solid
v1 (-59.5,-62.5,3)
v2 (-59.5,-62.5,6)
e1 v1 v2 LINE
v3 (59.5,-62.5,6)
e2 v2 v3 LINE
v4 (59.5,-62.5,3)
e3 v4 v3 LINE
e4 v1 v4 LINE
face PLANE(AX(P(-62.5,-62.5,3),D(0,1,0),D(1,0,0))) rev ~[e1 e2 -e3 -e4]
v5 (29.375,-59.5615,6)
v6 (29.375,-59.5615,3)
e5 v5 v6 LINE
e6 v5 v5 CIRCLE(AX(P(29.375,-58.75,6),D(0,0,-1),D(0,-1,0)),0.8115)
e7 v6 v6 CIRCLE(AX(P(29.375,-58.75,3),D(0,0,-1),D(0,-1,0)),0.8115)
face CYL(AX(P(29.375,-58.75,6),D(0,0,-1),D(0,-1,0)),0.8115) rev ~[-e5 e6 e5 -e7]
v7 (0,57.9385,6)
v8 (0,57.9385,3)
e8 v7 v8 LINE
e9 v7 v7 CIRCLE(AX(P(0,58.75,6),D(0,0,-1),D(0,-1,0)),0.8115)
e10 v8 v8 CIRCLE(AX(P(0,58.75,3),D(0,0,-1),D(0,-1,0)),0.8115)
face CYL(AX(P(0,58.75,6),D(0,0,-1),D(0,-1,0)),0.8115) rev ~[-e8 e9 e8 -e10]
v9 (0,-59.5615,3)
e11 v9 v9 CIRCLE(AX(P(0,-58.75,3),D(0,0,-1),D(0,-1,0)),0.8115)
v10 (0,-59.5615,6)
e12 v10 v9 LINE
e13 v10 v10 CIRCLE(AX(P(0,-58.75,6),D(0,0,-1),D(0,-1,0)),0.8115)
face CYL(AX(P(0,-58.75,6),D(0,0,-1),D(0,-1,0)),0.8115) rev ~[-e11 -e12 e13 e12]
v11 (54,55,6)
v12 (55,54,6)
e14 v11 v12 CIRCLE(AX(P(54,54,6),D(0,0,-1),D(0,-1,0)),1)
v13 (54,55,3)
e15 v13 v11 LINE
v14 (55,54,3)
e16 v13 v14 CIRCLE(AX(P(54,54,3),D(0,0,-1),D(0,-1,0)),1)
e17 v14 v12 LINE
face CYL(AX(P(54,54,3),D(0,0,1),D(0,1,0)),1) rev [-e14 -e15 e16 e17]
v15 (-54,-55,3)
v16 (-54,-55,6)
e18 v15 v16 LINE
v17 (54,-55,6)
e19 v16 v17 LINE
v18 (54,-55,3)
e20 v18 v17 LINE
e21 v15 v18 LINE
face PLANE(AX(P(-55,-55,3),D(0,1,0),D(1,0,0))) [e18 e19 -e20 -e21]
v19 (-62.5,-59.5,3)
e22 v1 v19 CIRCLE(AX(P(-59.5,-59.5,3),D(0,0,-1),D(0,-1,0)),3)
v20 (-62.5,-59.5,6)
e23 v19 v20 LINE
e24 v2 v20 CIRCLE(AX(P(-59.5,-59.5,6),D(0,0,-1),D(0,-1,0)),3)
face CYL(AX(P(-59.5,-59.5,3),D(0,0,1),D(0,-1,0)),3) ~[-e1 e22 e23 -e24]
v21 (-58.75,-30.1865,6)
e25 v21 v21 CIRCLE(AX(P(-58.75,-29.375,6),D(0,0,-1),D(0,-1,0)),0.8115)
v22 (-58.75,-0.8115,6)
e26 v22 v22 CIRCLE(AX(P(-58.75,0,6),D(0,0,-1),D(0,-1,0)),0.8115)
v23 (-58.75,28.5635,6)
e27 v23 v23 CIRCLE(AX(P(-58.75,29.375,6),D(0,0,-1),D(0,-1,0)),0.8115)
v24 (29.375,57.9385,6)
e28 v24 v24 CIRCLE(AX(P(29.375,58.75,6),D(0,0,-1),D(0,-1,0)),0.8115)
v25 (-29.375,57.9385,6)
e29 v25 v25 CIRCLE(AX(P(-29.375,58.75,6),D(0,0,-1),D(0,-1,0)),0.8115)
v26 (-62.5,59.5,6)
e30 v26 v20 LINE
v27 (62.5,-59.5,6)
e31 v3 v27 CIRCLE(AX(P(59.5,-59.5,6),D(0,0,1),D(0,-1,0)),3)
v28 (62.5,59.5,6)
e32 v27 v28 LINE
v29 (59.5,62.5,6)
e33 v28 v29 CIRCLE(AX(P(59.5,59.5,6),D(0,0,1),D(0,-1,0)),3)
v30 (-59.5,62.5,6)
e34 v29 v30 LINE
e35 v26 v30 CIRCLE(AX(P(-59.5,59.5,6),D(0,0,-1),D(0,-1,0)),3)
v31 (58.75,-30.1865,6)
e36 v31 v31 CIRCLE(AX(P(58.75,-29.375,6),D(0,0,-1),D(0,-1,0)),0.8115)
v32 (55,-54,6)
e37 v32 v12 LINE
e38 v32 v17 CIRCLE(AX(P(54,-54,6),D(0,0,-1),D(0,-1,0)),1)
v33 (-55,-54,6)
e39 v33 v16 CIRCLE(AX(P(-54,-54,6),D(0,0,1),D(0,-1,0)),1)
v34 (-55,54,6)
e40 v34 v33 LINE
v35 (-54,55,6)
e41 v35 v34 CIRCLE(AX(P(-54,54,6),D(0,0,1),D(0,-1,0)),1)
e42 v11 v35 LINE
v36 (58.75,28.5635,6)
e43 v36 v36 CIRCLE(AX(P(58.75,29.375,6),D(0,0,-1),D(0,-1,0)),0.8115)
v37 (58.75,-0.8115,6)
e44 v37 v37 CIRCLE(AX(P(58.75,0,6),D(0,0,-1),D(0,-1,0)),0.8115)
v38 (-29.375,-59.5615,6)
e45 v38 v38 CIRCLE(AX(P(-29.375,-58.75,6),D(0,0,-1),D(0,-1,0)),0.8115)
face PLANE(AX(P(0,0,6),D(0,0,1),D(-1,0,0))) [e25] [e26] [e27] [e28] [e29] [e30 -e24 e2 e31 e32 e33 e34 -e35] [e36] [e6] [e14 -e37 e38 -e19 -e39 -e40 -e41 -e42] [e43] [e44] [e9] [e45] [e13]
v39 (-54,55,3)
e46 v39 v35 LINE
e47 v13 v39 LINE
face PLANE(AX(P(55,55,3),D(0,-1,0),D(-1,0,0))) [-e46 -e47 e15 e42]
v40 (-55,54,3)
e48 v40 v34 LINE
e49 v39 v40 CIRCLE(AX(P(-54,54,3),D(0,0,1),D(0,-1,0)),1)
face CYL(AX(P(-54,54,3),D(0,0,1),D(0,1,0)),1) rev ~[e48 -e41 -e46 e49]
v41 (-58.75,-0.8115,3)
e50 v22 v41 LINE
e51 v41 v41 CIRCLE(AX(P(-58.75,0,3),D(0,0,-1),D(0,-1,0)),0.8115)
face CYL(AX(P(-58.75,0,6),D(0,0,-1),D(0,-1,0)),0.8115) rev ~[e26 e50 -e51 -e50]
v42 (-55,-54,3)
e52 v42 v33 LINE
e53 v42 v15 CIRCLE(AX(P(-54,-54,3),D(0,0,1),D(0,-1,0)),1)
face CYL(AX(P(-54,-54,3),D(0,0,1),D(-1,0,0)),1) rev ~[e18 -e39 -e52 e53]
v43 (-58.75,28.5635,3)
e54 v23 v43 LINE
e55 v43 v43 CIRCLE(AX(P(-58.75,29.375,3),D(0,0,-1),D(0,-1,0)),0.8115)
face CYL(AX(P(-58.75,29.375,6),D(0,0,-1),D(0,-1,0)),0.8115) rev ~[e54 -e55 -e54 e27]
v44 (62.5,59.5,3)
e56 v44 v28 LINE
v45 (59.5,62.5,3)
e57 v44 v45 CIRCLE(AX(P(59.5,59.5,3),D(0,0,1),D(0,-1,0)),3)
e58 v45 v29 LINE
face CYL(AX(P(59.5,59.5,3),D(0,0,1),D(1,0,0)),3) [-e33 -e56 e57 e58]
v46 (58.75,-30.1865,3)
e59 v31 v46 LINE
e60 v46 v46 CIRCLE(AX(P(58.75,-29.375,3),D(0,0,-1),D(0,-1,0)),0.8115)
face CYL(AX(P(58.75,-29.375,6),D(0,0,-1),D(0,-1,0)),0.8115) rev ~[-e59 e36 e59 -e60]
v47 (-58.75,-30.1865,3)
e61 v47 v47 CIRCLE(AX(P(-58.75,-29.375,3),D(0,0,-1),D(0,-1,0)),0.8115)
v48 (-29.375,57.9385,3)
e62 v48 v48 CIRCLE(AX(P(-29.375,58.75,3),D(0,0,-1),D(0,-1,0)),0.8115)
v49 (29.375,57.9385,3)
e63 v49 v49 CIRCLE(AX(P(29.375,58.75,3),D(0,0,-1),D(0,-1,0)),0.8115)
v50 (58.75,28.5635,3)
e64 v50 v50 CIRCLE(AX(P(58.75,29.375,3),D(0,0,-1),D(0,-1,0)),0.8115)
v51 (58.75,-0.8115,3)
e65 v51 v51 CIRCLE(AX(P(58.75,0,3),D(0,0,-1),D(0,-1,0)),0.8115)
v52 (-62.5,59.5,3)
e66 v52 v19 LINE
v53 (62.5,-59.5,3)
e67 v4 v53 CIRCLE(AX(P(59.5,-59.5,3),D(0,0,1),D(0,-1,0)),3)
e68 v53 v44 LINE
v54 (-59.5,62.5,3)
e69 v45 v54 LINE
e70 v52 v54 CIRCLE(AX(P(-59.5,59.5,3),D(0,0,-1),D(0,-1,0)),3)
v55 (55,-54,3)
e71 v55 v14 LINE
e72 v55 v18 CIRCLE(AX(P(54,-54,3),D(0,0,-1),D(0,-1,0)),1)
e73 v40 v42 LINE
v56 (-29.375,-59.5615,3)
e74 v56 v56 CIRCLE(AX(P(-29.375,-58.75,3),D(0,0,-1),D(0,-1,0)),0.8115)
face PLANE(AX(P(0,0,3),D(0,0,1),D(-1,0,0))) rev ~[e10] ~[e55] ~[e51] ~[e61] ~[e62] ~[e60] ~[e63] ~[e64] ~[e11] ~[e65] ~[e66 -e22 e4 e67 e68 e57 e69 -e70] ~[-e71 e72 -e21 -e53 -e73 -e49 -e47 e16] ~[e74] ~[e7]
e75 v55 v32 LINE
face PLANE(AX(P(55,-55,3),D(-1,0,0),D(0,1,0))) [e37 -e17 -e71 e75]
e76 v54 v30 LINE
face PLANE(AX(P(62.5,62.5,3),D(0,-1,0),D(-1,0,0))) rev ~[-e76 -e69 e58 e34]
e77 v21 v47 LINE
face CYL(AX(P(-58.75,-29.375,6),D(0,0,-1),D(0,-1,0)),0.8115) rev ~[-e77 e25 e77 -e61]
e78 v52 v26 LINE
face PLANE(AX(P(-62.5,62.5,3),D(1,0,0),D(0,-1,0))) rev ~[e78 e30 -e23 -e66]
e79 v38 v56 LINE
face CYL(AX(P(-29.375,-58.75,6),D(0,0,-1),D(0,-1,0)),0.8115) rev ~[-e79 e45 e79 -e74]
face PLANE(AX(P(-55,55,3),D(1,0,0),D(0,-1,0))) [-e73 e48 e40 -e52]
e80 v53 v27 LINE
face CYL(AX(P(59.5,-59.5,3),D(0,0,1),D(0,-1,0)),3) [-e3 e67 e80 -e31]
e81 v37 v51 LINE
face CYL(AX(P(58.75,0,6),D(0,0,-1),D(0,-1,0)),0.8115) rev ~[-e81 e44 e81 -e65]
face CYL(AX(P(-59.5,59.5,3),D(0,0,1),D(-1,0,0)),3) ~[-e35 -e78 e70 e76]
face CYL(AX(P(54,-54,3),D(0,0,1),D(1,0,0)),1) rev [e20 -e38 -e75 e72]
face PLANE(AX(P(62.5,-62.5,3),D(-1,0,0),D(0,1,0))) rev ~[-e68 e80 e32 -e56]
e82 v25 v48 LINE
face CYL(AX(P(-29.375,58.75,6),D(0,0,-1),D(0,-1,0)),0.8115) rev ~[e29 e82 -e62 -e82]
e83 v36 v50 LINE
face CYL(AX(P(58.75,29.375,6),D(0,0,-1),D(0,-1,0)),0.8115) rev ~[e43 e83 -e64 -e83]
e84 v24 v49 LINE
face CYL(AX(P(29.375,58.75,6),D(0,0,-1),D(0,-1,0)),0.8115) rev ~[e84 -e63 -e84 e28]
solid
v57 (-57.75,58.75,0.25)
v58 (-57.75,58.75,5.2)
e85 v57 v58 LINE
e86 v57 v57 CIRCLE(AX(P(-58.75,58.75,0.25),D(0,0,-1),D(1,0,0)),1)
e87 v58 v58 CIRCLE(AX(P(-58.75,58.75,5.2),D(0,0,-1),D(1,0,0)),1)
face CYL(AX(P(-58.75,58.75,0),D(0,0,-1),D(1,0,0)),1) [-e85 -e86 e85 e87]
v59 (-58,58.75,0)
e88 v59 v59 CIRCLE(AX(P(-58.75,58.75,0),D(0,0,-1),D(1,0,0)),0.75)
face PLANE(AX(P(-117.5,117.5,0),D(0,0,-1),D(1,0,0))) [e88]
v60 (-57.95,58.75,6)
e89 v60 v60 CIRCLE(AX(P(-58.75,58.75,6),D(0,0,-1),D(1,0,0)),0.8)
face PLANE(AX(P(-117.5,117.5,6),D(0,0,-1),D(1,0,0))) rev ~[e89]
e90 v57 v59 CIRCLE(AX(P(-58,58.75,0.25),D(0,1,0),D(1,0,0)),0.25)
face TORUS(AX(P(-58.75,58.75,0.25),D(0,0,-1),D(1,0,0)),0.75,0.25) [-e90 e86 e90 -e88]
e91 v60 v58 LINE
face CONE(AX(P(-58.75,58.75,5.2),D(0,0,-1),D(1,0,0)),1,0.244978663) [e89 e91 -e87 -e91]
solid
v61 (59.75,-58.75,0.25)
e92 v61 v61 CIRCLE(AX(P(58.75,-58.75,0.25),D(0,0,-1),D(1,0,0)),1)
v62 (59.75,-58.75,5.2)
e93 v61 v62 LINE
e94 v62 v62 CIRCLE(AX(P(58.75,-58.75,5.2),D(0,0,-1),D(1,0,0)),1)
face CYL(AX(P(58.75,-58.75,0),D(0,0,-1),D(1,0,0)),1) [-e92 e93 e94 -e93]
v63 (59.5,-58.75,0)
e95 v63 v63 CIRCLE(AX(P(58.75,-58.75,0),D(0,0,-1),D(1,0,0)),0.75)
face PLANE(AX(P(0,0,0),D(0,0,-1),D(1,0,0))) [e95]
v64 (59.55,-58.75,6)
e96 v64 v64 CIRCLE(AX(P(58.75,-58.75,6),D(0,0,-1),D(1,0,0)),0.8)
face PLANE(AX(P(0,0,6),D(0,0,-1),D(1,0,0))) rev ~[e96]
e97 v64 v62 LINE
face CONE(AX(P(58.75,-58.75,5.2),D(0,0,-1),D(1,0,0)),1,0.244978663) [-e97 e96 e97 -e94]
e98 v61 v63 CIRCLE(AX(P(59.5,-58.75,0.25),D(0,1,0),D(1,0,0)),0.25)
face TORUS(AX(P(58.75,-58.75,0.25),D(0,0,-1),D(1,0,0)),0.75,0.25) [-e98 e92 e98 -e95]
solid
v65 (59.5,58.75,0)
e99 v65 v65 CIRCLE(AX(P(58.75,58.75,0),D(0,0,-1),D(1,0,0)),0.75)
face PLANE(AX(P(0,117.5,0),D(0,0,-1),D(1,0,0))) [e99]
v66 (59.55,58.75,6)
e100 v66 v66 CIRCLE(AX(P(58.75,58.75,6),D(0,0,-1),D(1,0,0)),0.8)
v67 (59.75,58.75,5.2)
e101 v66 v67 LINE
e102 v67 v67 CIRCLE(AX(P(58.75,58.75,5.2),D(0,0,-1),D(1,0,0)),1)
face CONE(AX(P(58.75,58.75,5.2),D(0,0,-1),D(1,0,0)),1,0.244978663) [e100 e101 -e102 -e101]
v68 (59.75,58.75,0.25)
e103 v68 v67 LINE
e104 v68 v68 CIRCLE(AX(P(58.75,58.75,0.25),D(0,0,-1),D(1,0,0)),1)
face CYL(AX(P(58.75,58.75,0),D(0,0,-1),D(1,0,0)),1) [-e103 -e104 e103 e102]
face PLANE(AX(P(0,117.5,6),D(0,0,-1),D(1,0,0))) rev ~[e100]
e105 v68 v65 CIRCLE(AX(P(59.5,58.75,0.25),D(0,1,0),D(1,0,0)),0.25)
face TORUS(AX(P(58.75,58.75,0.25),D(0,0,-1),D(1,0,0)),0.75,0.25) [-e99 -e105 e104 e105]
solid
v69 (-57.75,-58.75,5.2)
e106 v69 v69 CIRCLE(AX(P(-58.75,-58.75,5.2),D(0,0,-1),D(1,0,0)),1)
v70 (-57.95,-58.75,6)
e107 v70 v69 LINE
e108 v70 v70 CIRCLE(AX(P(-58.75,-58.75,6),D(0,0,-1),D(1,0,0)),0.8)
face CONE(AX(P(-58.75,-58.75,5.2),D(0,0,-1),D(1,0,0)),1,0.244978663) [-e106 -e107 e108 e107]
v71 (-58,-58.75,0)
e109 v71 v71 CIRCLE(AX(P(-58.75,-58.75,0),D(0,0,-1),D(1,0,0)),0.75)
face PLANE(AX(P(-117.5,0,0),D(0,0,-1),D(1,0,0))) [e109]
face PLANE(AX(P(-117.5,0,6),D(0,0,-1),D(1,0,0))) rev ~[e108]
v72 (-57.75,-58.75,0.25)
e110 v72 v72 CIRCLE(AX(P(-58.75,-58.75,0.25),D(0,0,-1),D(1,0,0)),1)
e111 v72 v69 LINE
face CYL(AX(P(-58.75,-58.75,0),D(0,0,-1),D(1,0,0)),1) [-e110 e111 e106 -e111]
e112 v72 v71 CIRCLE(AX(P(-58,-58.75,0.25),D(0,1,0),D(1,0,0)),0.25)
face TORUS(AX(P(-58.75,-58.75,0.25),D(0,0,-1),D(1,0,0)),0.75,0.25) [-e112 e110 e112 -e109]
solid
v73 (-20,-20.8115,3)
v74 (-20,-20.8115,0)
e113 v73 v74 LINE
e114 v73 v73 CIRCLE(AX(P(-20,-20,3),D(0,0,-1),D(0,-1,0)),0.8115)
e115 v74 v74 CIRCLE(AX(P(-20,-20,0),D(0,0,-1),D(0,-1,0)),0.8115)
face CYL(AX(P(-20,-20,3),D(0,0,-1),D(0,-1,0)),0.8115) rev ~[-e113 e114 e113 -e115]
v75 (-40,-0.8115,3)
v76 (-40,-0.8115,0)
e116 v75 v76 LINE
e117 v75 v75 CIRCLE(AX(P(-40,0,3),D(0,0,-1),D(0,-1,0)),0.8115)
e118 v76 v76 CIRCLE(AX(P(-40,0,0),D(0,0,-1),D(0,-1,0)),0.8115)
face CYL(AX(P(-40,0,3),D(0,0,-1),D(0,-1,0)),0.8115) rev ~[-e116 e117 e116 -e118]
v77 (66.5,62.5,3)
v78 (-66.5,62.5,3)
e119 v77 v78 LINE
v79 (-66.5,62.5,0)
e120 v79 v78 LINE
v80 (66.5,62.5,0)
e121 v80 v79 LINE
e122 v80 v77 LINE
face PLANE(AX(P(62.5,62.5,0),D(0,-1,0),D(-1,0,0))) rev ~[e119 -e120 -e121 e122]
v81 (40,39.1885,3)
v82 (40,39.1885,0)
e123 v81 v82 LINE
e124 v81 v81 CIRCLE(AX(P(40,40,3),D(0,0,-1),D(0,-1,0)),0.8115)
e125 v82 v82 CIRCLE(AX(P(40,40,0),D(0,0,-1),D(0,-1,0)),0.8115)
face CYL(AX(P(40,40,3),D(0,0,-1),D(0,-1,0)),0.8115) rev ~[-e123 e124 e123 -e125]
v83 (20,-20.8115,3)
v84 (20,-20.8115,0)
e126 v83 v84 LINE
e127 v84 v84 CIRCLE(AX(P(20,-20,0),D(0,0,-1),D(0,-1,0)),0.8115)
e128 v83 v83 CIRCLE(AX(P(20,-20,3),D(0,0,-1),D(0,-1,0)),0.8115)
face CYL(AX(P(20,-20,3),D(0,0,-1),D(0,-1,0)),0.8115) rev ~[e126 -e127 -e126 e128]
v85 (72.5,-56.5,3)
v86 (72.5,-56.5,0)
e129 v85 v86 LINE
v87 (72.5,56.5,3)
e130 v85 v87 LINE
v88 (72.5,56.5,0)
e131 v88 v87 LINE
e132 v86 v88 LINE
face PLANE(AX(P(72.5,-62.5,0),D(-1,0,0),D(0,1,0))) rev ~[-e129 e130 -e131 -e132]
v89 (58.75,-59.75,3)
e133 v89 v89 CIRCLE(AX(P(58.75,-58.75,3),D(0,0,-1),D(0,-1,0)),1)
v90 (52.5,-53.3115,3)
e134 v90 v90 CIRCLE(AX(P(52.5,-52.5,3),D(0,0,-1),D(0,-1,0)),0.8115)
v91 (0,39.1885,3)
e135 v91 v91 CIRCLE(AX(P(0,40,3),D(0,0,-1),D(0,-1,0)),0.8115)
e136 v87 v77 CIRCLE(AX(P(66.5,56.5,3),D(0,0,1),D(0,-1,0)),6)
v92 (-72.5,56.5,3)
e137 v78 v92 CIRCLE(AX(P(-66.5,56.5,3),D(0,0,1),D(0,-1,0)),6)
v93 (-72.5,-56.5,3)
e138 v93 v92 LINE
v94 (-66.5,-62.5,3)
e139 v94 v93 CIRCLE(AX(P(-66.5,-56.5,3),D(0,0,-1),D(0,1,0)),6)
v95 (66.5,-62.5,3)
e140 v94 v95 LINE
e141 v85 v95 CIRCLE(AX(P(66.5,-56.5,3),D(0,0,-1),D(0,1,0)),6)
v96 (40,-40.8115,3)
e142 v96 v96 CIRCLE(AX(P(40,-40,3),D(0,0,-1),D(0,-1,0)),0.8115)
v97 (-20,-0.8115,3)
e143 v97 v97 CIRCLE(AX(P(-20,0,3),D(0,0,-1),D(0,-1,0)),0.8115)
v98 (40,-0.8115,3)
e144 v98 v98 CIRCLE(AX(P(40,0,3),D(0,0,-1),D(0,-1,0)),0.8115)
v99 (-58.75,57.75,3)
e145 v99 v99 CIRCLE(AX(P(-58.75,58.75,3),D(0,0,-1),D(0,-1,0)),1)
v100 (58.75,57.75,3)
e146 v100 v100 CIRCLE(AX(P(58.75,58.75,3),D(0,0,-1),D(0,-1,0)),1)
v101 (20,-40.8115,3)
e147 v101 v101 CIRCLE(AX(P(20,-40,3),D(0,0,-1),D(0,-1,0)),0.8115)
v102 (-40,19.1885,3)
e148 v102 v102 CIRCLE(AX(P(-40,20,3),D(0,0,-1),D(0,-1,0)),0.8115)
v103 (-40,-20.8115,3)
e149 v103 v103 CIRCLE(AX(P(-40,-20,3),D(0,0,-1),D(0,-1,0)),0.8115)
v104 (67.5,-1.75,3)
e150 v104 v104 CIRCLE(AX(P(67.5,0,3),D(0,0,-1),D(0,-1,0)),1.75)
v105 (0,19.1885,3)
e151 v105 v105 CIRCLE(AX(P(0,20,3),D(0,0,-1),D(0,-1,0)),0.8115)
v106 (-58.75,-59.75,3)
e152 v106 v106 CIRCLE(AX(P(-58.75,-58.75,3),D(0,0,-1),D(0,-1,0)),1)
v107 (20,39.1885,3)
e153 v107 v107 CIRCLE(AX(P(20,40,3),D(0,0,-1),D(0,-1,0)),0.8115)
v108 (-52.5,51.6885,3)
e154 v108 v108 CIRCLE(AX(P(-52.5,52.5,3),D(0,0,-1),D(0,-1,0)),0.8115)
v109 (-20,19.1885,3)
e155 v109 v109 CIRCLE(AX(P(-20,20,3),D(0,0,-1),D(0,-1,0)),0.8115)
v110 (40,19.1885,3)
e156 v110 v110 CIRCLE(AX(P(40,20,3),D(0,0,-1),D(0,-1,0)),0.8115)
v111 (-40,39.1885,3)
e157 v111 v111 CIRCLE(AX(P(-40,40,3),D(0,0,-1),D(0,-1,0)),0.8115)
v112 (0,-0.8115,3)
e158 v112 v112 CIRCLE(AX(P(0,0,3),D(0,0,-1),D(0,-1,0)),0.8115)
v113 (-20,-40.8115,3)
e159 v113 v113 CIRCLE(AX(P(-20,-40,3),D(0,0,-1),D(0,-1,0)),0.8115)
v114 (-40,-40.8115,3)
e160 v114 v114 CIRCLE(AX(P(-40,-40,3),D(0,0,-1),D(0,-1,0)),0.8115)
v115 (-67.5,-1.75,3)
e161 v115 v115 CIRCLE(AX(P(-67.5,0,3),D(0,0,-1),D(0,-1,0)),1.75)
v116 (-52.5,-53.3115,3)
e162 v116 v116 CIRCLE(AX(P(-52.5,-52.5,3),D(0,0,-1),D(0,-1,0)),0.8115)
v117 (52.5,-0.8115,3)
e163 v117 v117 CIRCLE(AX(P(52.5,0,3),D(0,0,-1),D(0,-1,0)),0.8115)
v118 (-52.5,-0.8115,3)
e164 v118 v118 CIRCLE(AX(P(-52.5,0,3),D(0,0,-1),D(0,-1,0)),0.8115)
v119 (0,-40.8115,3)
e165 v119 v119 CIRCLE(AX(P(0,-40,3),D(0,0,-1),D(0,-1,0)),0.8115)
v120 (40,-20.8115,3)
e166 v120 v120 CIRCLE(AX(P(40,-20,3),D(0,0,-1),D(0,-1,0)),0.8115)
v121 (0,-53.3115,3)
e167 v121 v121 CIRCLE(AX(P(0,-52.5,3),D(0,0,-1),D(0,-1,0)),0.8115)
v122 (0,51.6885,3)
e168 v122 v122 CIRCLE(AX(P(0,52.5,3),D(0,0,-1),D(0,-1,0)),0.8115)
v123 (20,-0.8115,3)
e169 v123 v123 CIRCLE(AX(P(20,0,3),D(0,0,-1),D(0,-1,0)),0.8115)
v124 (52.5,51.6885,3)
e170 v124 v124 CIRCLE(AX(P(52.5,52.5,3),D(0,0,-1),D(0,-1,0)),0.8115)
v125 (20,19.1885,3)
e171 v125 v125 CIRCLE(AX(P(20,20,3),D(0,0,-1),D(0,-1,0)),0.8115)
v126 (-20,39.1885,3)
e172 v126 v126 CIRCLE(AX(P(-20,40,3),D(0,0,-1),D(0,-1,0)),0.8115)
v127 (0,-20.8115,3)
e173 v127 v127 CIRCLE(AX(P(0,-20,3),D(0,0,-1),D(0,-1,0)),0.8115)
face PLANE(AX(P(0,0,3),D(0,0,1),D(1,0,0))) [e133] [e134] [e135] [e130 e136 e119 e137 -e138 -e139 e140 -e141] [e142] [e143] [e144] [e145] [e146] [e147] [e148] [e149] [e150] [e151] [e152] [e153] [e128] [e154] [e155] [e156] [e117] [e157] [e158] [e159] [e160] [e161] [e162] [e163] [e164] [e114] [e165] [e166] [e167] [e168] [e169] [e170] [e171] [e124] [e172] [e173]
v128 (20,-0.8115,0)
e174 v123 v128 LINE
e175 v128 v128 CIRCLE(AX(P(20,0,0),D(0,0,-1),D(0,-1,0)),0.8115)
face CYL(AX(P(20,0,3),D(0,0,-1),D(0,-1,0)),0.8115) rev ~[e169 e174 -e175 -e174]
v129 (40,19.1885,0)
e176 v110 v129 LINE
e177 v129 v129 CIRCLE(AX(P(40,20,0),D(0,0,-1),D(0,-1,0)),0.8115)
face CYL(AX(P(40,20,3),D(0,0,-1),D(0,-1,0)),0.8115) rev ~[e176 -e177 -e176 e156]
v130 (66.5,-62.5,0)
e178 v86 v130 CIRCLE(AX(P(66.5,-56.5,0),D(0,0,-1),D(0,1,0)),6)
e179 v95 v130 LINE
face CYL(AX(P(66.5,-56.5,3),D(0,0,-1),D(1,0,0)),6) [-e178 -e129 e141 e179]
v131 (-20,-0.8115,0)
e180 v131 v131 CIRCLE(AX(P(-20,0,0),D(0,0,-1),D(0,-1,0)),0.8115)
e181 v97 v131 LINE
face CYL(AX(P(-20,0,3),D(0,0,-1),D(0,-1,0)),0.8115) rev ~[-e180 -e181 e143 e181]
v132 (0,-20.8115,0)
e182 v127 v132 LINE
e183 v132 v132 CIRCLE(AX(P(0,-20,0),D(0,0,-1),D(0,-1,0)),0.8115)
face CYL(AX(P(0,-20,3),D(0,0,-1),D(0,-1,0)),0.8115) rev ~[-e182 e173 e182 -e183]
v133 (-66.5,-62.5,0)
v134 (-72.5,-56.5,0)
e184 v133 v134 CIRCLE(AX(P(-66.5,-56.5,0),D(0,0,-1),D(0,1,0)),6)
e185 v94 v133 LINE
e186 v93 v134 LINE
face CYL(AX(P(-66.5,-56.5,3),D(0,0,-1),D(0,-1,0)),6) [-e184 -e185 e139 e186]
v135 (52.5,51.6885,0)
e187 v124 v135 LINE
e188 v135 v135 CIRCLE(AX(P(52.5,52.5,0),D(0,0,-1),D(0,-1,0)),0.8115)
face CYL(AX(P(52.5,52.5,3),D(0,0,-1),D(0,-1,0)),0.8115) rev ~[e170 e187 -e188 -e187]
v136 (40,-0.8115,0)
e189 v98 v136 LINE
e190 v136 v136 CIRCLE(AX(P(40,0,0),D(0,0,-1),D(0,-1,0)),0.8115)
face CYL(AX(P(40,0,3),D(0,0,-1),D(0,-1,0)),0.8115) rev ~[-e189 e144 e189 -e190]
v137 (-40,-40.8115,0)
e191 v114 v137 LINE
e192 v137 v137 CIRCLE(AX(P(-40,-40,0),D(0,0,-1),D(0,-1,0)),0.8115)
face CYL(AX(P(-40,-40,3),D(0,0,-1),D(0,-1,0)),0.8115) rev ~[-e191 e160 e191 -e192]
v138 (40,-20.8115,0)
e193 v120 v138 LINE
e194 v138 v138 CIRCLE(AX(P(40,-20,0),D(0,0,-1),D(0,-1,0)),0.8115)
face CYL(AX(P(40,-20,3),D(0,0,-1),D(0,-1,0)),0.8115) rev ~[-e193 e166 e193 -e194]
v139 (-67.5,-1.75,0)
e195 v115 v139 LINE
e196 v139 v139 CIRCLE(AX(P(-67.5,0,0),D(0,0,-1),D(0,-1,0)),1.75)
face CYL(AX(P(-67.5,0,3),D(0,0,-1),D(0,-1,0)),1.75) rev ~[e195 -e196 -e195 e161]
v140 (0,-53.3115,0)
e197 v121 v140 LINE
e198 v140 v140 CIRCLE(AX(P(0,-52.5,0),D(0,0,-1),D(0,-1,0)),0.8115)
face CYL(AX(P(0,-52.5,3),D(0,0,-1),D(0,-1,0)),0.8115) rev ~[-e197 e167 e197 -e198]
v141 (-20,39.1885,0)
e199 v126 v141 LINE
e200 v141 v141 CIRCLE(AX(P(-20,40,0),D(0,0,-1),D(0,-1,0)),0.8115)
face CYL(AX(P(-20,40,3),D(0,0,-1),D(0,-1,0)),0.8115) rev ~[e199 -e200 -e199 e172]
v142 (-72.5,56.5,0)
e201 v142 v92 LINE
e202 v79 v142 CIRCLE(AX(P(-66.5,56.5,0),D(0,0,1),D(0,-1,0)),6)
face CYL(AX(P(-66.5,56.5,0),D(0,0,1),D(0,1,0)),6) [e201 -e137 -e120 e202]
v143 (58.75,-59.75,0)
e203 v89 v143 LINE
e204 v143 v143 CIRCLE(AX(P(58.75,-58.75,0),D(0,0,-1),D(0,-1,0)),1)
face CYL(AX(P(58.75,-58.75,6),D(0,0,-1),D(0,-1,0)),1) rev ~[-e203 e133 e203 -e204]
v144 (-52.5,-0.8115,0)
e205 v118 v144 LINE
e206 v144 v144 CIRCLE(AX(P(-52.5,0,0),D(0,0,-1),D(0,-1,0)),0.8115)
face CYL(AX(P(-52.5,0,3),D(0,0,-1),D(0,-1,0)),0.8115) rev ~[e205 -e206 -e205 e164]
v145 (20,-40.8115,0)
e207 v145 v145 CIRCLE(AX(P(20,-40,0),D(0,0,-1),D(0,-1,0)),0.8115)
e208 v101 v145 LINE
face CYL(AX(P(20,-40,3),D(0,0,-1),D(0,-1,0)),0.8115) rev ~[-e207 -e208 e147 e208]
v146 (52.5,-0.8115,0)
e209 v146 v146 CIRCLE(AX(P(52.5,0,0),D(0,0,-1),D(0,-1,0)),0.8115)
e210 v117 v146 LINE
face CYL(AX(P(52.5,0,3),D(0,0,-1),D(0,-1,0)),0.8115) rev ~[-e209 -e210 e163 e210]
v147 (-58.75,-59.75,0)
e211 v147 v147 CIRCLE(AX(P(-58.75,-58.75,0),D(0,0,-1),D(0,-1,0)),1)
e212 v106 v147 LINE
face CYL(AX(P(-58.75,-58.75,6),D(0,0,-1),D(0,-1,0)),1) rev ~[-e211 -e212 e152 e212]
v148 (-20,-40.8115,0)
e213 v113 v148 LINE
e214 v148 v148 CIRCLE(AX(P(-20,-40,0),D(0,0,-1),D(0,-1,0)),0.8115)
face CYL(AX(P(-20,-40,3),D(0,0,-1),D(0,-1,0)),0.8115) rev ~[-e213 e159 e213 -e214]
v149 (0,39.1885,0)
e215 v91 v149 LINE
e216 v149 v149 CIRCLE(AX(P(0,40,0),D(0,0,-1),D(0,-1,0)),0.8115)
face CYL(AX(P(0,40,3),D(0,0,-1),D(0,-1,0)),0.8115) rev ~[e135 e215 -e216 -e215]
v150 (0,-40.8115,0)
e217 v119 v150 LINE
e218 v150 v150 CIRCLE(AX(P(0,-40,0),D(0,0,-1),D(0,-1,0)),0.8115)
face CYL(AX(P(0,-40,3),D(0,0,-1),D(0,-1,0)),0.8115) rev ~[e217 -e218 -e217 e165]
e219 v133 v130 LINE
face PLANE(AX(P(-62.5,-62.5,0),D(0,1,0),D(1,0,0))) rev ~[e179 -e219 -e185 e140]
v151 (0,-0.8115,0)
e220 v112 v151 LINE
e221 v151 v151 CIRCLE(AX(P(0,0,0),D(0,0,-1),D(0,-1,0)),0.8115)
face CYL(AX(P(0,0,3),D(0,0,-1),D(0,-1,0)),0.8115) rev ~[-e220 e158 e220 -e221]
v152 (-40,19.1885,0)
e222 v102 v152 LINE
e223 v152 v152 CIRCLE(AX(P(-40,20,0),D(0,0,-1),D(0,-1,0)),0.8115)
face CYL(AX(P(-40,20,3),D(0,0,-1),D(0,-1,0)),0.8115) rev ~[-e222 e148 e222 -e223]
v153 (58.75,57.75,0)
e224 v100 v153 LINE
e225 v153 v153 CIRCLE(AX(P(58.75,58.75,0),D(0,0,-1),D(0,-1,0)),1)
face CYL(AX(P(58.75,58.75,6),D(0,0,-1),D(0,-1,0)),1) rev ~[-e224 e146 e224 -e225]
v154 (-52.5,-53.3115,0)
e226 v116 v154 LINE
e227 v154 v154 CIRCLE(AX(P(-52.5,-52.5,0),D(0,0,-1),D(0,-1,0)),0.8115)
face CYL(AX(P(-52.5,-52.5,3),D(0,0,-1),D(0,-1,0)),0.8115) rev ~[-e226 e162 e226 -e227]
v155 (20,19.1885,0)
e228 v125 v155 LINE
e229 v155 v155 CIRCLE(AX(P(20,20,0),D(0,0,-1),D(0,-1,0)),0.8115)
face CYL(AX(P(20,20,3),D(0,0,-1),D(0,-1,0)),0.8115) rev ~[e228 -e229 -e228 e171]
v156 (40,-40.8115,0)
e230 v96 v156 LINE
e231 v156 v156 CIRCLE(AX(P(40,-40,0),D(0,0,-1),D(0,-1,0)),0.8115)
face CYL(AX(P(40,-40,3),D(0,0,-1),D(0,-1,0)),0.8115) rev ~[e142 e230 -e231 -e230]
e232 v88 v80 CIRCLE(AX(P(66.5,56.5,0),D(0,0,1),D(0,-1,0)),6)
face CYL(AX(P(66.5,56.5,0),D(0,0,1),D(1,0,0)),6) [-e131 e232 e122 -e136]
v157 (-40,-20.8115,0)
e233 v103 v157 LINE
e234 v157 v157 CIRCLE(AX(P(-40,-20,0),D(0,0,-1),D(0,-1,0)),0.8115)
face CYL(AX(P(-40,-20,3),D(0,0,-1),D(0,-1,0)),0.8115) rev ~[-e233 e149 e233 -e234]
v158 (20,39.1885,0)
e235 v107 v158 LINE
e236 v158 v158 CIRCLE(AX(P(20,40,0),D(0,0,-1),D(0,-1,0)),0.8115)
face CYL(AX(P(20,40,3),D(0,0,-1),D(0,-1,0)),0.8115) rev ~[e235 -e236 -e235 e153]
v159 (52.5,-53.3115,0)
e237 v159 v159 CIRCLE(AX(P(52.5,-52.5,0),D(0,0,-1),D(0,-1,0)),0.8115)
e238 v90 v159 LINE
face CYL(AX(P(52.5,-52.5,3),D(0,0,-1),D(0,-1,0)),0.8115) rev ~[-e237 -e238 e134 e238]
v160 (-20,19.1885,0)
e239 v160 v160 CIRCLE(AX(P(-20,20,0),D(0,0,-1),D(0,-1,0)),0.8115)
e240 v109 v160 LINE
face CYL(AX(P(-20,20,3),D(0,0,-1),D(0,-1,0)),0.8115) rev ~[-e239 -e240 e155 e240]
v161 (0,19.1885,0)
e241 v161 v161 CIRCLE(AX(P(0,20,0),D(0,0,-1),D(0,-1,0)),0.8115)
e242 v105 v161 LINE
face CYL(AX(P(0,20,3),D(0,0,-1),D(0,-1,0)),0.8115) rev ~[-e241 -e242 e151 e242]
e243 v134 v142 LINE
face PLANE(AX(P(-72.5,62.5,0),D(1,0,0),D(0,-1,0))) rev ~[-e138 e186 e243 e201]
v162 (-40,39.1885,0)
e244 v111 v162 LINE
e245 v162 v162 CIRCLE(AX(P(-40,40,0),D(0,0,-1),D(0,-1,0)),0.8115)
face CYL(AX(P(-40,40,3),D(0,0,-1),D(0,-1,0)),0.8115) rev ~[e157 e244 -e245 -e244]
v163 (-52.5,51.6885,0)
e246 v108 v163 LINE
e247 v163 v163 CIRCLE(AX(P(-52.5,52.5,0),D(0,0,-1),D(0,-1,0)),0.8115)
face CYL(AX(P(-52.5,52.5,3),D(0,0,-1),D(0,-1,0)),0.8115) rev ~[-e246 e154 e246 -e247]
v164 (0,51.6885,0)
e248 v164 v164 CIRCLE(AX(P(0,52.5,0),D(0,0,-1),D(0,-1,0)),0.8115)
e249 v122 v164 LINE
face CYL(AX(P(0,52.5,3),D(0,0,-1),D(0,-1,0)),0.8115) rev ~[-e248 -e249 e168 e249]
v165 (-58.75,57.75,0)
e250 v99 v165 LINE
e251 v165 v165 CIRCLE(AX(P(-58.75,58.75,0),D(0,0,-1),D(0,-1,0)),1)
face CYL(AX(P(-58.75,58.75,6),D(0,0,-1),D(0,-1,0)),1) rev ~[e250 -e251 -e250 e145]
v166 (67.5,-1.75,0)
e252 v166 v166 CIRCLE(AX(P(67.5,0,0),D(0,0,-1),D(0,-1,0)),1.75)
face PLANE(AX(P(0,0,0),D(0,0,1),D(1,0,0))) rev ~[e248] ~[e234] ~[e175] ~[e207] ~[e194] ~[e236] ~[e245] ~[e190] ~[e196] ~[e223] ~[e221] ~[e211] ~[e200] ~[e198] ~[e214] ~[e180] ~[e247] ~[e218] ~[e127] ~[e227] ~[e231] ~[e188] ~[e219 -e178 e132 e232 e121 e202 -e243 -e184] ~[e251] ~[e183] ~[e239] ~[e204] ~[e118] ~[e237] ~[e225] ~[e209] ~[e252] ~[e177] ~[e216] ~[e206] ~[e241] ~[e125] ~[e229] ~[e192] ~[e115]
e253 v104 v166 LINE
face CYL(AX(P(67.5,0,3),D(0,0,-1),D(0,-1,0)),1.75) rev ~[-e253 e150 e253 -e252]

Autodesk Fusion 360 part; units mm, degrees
sketch "Sketch1" plane through (0, 0, 0) normal (0, 0, 1) x (1, 0, 0) in component "base"
  line L0 (62.5, 62.5) -> (-62.5, 62.5)
  line L1 (-62.5, 62.5) -> (-62.5, -62.5)
  line L2 (-62.5, -62.5) -> (62.5, -62.5)
  line L3 (62.5, -62.5) -> (62.5, 62.5)
  line L4 (62.5, 62.5) -> (-62.5, -62.5) construction
  line L5 (-62.5, 62.5) -> (62.5, -62.5) construction
  dimension "d3" = 125
  dimension "d4" = 125
extrude "Extrude1" add sketch "Sketch1" along normal blind 3 makes body 1 in component "base"
sketch "Sketch1 (2)" plane through (0, 0, 3) normal (0, 0, 1) x (-1, 0, 0) in component "stencilFrame"
  line L0 (-62.5, 62.5) -> (-62.5, -62.5)
  line L1 (-62.5, -62.5) -> (62.5, -62.5)
  line L2 (62.5, -62.5) -> (62.5, 62.5)
  line L3 (62.5, 62.5) -> (-62.5, 62.5)
  line L4 (-55, -55) -> (55, -55)
  line L5 (55, -55) -> (55, 55)
  line L6 (55, 55) -> (-55, 55)
  line L7 (-55, 55) -> (-55, -55)
  line L8 (-55, -55) -> (55, 55) construction
  line L9 (55, -55) -> (-55, 55) construction
  dimension "d7" = 110
  dimension "d8" = 110
extrude "Extrude1'" add sketch "Sketch1 (2)" along normal blind 3 separate body makes body 2 in component "stencilFrame"
sketch "Sketch2" plane through (0, 0, 3) normal (0, 0, 1) x (-1, 0, 0) in component "base"
  line L0 (-62.5, 62.5) -> (-62.5, -62.5)
  line L1 (-62.5, -62.5) -> (62.5, -62.5)
  line L2 (62.5, -62.5) -> (62.5, 62.5)
  line L3 (62.5, 62.5) -> (-62.5, 62.5)
hole "Hole1" at (0, 0, 3) direction (0, 0, -1) diameter 1.623 depth 40 tip angle 118 bodies 1 in component "base"
pattern_linear "R-Pattern1" count 5 spacing 20 along (1, 0, 0) both ways count 5 spacing 20 along (0, 1, 0) both ways of "Hole1" in component "base"
sketch "Sketch4" plane through (0, 0, 3) normal (0, 0, 1) x (-1, 0, 0) in component "base"
  circle A0 centre (-20, -20) radius 0.8115
  circle A1 centre (0, -20) radius 0.8115
  circle A2 centre (20, -20) radius 0.8115
  circle A3 centre (-20, 0) radius 0.8115
  circle A4 centre (20, 0) radius 0.8115
  circle A5 centre (-20, 20) radius 0.8115
  circle A6 centre (0, 20) radius 0.8115
  circle A7 centre (20, 20) radius 0.8115
  circle A8 centre (0, 0) radius 0.8115
  line L0 (-62.5, 62.5) -> (-62.5, -62.5)
  line L1 (-62.5, -62.5) -> (62.5, -62.5)
  line L2 (62.5, -62.5) -> (62.5, 62.5)
  line L3 (62.5, 62.5) -> (-62.5, 62.5)
  line L4 (-52.5, -52.5) -> (52.5, -52.5) construction
  line L5 (52.5, -52.5) -> (52.5, 52.5) construction
  line L6 (52.5, 52.5) -> (-52.5, 52.5) construction
  line L7 (-52.5, 52.5) -> (-52.5, -52.5) construction
  line L8 (-52.5, -52.5) -> (52.5, 52.5) construction
  line L9 (52.5, -52.5) -> (-52.5, 52.5) construction
  line L10 (55, -55) -> (-55, -55) construction
  line L11 (-55, -55) -> (-55, 55) construction
  circle A9 centre (-40, -20) radius 0.8115
  circle A10 centre (40, -20) radius 0.8115
  circle A11 centre (-40, 0) radius 0.8115
  circle A12 centre (40, 0) radius 0.8115
  circle A13 centre (-40, 20) radius 0.8115
  circle A14 centre (40, 20) radius 0.8115
  circle A15 centre (-40, -40) radius 0.8115
  circle A16 centre (-20, -40) radius 0.8115
  circle A17 centre (0, -40) radius 0.8115
  circle A18 centre (20, -40) radius 0.8115
  circle A19 centre (40, -40) radius 0.8115
  circle A20 centre (-40, 40) radius 0.8115
  circle A21 centre (-20, 40) radius 0.8115
  circle A22 centre (0, 40) radius 0.8115
  circle A23 centre (20, 40) radius 0.8115
  circle A24 centre (40, 40) radius 0.8115
  point P0 (0, -52.5)
  point P1 (-52.5, 0)
  point P2 (0, 52.5)
  point P3 (52.5, 0)
  dimension "d28" = 2.5
  dimension "d29" = 2.5
hole "Hole3" at (-52.5, 52.5, 3) at (52.5, 52.5, 3) at (52.5, -52.5, 3) at (-52.5, -52.5, 3) at (0, 52.5, 3) at (52.5, 0, 3) at (0, -52.5, 3) at (-52.5, 0, 3) direction (0, 0, -1) diameter 1.623 depth 40 tip angle 118 bodies 1 in component "base"
sketch "Sketch2 (2)" plane through (0, 0, 6) normal (0, 0, 1) x (-1, 0, 0) in component "stencilFrame"
  line L0 (-55, -55) -> (-55, 55)
  line L1 (-55, 55) -> (55, 55)
  line L2 (55, 55) -> (55, -55)
  line L3 (55, -55) -> (-55, -55)
  line L4 (62.5, 62.5) -> (-62.5, 62.5)
  line L5 (-62.5, 62.5) -> (-62.5, -62.5)
  line L6 (-62.5, -62.5) -> (62.5, -62.5)
  line L7 (62.5, -62.5) -> (62.5, 62.5)
  line L8 (-58.75, -58.75) -> (58.75, -58.75)
  line L9 (58.75, -58.75) -> (58.75, 58.75)
  line L10 (58.75, 58.75) -> (-58.75, 58.75)
  line L11 (-58.75, 58.75) -> (-58.75, -58.75)
  line L12 (-58.75, -58.75) -> (58.75, 58.75) construction
  line L13 (58.75, -58.75) -> (-58.75, 58.75) construction
  line L14 (0, -62.5) -> (0, -55) construction
  line L15 (55, 0) -> (62.5, 0) construction
  line L16 (29.375, -58.75) -> (29.375, 58.75) construction
  line L17 (-29.375, -58.75) -> (-29.375, 58.75) construction
  line L18 (58.75, -29.375) -> (-58.75, -29.375) construction
  line L19 (58.75, 29.375) -> (-58.75, 29.375) construction
  point P0 (58.75, 0)
  point P1 (-58.75, 0)
  point P2 (0, -58.75)
  point P3 (0, 58.75)
  dimension "d33" = 29.375
  dimension "d34" = 29.375
  dimension "d35" = 29.375
  dimension "d36" = 29.375
hole "Hole1'" at (-29.375, 58.75, 6) at (0, 58.75, 6) at (29.375, 58.75, 6) at (58.75, 29.375, 6) at (58.75, 0, 6) at (58.75, -29.375, 6) at (29.375, -58.75, 6) at (0, -58.75, 6) at (-29.375, -58.75, 6) at (-58.75, -29.375, 6) at (-58.75, 0, 6) at (-58.75, 29.375, 6) direction (0, 0, -1) diameter 1.623 depth 40 tip angle 118 bodies 2 in component "stencilFrame"
hole "Hole4" at (-58.75, 58.75, 6) at (58.75, 58.75, 6) at (58.75, -58.75, 6) at (-58.75, -58.75, 6) direction (0, 0, -1) diameter 2 depth 40 tip angle 180 bodies 1 in component "base"
sketch "Sketch1 (3)" plane through (0, 0, 0) normal (0, 0, -1) x (1, 0, 0) in component "aligmentPin"
  circle A0 centre (58.75, 58.75) radius 1
  circle A1 centre (-58.75, -58.75) radius 1
  circle A2 centre (58.75, -58.75) radius 1
  circle A3 centre (-58.75, 58.75) radius 1
  circle A4 centre (0, 52.5) radius 0.8115
  circle A5 centre (0, -52.5) radius 0.8115
  circle A6 centre (52.5, 52.5) radius 0.8115
  circle A7 centre (-52.5, -52.5) radius 0.8115
  circle A8 centre (52.5, -52.5) radius 0.8115
  circle A9 centre (-52.5, 52.5) radius 0.8115
  circle A10 centre (52.5, 0) radius 0.8115
  circle A11 centre (-52.5, 0) radius 0.8115
  circle A12 centre (20, -20) radius 0.8115
  circle A13 centre (0, -20) radius 0.8115
  circle A14 centre (-20, -20) radius 0.8115
  circle A15 centre (20, 0) radius 0.8115
  circle A16 centre (-20, 0) radius 0.8115
  circle A17 centre (20, 20) radius 0.8115
  circle A18 centre (0, 20) radius 0.8115
  circle A19 centre (-20, 20) radius 0.8115
  circle A20 centre (0, 0) radius 0.8115
  line L0 (62.5, -62.5) -> (62.5, 62.5)
  line L1 (62.5, 62.5) -> (-62.5, 62.5)
  line L2 (-62.5, 62.5) -> (-62.5, -62.5)
  line L3 (-62.5, -62.5) -> (62.5, -62.5)
  circle A21 centre (40, -20) radius 0.8115
  circle A22 centre (-40, -20) radius 0.8115
  circle A23 centre (40, 0) radius 0.8115
  circle A24 centre (-40, 0) radius 0.8115
  circle A25 centre (40, 20) radius 0.8115
  circle A26 centre (-40, 20) radius 0.8115
  circle A27 centre (40, -40) radius 0.8115
  circle A28 centre (20, -40) radius 0.8115
  circle A29 centre (0, -40) radius 0.8115
  circle A30 centre (-20, -40) radius 0.8115
  circle A31 centre (-40, -40) radius 0.8115
  circle A32 centre (40, 40) radius 0.8115
  circle A33 centre (20, 40) radius 0.8115
  circle A34 centre (0, 40) radius 0.8115
  circle A35 centre (-20, 40) radius 0.8115
  circle A36 centre (-40, 40) radius 0.8115
extrude "Extrude1''" add sketch "Sketch1 (3)" against normal blind 6 separate body contours A0 makes body 3 in component "aligmentPin"
fillet "Fillet1" radius 0.25 1 edges at (57.8177, -58.3884, 0) on bodies 3 in component "aligmentPin"
chamfer "Chamfer1" distance 0.2 distance2 0.8 1 edges at (57.8177, -59.1116, 6) measured on face at (58.9578, -59.11, 6) on bodies 3 in component "aligmentPin"
fillet "Fillet1'" radius 1 4 edges at (55, -55, 4.5) (55, 55, 4.5) (-55, 55, 4.5) (-55, -55, 4.5) on bodies 2 in component "stencilFrame"
fillet "Fillet1'" radius 3 4 edges at (-62.5, 62.5, 4.5) (-62.5, -62.5, 4.5) (62.5, -62.5, 4.5) (62.5, 62.5, 4.5) on bodies 2 in component "stencilFrame"
move_face "OffsetFaces1" offset 10 2 faces at (-62.5, 20.8333, 1) (62.5, -20.8333, 1) on bodies 1 in component "base"
sketch "Sketch5" plane through (0, 0, 3) normal (0, 0, 1) x (-1, 0, 0) in component "base"
  circle A0 centre (-58.75, 58.75) radius 1
  circle A1 centre (58.75, -58.75) radius 1
  circle A2 centre (-58.75, -58.75) radius 1
  circle A3 centre (58.75, 58.75) radius 1
  circle A4 centre (0, 52.5) radius 0.8115
  circle A5 centre (0, -52.5) radius 0.8115
  circle A6 centre (-52.5, 52.5) radius 0.8115
  circle A7 centre (52.5, -52.5) radius 0.8115
  circle A8 centre (-52.5, -52.5) radius 0.8115
  circle A9 centre (52.5, 52.5) radius 0.8115
  circle A10 centre (-52.5, 0) radius 0.8115
  circle A11 centre (52.5, 0) radius 0.8115
  circle A12 centre (-20, -20) radius 0.8115
  circle A13 centre (0, -20) radius 0.8115
  circle A14 centre (20, -20) radius 0.8115
  circle A15 centre (-20, 0) radius 0.8115
  circle A16 centre (20, 0) radius 0.8115
  circle A17 centre (-20, 20) radius 0.8115
  circle A18 centre (0, 20) radius 0.8115
  circle A19 centre (20, 20) radius 0.8115
  circle A20 centre (0, 0) radius 0.8115
  line L0 (-72.5, 62.5) -> (-72.5, -62.5)
  line L1 (-72.5, -62.5) -> (72.5, -62.5)
  line L2 (72.5, -62.5) -> (72.5, 62.5)
  line L3 (72.5, 62.5) -> (-72.5, 62.5)
  line L4 (72.5, -62.5) -> (72.5, 62.5) construction
  line L5 (62.5, -59.5) -> (62.5, 59.5) construction
  line L6 (-62.5, 59.5) -> (-62.5, -59.5) construction
  line L7 (-72.5, 62.5) -> (-72.5, -62.5) construction
  line L8 (62.5, 0) -> (72.5, 0)
  line L9 (-62.5, 0) -> (-72.5, 0)
  circle A21 centre (-40, -20) radius 0.8115
  circle A22 centre (40, -20) radius 0.8115
  circle A23 centre (-40, 0) radius 0.8115
  circle A24 centre (40, 0) radius 0.8115
  circle A25 centre (-40, 20) radius 0.8115
  circle A26 centre (40, 20) radius 0.8115
  circle A27 centre (-40, -40) radius 0.8115
  circle A28 centre (-20, -40) radius 0.8115
  circle A29 centre (0, -40) radius 0.8115
  circle A30 centre (20, -40) radius 0.8115
  circle A31 centre (40, -40) radius 0.8115
  circle A32 centre (-40, 40) radius 0.8115
  circle A33 centre (-20, 40) radius 0.8115
  circle A34 centre (0, 40) radius 0.8115
  circle A35 centre (20, 40) radius 0.8115
  circle A36 centre (40, 40) radius 0.8115
  point P0 (67.5, 0)
  point P1 (-67.5, 0)
hole "Hole5" at (-67.5, 0, 3) at (67.5, 0, 3) direction (0, 0, -1) diameter 3.5 depth 40 tip angle 180 bodies 1 in component "base"
fillet "Fillet1''" radius 6 4 edges at (-72.5, -62.5, 1.5) (72.5, -62.5, 1.5) (72.5, 62.5, 1.5) (-72.5, 62.5, 1.5) on bodies 1 in component "base"
component "base" placed x (1, 0, 0) y (0, 1, 0) z (0, 0, 1) at (0, 0, 0)
component "stencilFrame" placed x (1, 0, 0) y (0, 1, 0) z (0, 0, 1) at (0, 0, 0)
component "aligmentPin" placed x (1, 0, 0) y (0, 1, 0) z (0, 0, 1) at (0, 0, 0)
component "aligmentPin" placed x (1, 0, 0) y (0, 1, 0) z (0, 0, 1) at (0, 117.5, 0)
component "aligmentPin" placed x (1, 0, 0) y (0, 1, 0) z (0, 0, 1) at (-117.5, 0, 0)
component "aligmentPin" placed x (1, 0, 0) y (0, 1, 0) z (0, 0, 1) at (-117.5, 117.5, 0)
equation "frameWidth = 100 mm"
equation "frameHeight = 100 mm"
equation "d3 = frameWidth + 25 mm"
equation "d4 = frameHeight + 25 mm"
equation "d7 = frameWidth + 10 mm"
equation "d8 = frameHeight + 10 mm"
equation "d14 = floor(( frameWidth + 10 mm ) / holeSpacing)"
equation "d15 = floor(( frameHeight + 10 mm ) / holeSpacing)"
equation "d16 = holeSpacing"
equation "d17 = holeSpacing"
equation "holeSpacing = 20 mm"
equation "d28 = ( 5 / 2 ) * 1 mm"
equation "d29 = d28"
equation "d33 = ( frameWidth + 17.5 mm ) / 4"
equation "d34 = d33"
equation "d35 = ( frameHeight + 17.5 mm ) / 4"
equation "d36 = d35"
